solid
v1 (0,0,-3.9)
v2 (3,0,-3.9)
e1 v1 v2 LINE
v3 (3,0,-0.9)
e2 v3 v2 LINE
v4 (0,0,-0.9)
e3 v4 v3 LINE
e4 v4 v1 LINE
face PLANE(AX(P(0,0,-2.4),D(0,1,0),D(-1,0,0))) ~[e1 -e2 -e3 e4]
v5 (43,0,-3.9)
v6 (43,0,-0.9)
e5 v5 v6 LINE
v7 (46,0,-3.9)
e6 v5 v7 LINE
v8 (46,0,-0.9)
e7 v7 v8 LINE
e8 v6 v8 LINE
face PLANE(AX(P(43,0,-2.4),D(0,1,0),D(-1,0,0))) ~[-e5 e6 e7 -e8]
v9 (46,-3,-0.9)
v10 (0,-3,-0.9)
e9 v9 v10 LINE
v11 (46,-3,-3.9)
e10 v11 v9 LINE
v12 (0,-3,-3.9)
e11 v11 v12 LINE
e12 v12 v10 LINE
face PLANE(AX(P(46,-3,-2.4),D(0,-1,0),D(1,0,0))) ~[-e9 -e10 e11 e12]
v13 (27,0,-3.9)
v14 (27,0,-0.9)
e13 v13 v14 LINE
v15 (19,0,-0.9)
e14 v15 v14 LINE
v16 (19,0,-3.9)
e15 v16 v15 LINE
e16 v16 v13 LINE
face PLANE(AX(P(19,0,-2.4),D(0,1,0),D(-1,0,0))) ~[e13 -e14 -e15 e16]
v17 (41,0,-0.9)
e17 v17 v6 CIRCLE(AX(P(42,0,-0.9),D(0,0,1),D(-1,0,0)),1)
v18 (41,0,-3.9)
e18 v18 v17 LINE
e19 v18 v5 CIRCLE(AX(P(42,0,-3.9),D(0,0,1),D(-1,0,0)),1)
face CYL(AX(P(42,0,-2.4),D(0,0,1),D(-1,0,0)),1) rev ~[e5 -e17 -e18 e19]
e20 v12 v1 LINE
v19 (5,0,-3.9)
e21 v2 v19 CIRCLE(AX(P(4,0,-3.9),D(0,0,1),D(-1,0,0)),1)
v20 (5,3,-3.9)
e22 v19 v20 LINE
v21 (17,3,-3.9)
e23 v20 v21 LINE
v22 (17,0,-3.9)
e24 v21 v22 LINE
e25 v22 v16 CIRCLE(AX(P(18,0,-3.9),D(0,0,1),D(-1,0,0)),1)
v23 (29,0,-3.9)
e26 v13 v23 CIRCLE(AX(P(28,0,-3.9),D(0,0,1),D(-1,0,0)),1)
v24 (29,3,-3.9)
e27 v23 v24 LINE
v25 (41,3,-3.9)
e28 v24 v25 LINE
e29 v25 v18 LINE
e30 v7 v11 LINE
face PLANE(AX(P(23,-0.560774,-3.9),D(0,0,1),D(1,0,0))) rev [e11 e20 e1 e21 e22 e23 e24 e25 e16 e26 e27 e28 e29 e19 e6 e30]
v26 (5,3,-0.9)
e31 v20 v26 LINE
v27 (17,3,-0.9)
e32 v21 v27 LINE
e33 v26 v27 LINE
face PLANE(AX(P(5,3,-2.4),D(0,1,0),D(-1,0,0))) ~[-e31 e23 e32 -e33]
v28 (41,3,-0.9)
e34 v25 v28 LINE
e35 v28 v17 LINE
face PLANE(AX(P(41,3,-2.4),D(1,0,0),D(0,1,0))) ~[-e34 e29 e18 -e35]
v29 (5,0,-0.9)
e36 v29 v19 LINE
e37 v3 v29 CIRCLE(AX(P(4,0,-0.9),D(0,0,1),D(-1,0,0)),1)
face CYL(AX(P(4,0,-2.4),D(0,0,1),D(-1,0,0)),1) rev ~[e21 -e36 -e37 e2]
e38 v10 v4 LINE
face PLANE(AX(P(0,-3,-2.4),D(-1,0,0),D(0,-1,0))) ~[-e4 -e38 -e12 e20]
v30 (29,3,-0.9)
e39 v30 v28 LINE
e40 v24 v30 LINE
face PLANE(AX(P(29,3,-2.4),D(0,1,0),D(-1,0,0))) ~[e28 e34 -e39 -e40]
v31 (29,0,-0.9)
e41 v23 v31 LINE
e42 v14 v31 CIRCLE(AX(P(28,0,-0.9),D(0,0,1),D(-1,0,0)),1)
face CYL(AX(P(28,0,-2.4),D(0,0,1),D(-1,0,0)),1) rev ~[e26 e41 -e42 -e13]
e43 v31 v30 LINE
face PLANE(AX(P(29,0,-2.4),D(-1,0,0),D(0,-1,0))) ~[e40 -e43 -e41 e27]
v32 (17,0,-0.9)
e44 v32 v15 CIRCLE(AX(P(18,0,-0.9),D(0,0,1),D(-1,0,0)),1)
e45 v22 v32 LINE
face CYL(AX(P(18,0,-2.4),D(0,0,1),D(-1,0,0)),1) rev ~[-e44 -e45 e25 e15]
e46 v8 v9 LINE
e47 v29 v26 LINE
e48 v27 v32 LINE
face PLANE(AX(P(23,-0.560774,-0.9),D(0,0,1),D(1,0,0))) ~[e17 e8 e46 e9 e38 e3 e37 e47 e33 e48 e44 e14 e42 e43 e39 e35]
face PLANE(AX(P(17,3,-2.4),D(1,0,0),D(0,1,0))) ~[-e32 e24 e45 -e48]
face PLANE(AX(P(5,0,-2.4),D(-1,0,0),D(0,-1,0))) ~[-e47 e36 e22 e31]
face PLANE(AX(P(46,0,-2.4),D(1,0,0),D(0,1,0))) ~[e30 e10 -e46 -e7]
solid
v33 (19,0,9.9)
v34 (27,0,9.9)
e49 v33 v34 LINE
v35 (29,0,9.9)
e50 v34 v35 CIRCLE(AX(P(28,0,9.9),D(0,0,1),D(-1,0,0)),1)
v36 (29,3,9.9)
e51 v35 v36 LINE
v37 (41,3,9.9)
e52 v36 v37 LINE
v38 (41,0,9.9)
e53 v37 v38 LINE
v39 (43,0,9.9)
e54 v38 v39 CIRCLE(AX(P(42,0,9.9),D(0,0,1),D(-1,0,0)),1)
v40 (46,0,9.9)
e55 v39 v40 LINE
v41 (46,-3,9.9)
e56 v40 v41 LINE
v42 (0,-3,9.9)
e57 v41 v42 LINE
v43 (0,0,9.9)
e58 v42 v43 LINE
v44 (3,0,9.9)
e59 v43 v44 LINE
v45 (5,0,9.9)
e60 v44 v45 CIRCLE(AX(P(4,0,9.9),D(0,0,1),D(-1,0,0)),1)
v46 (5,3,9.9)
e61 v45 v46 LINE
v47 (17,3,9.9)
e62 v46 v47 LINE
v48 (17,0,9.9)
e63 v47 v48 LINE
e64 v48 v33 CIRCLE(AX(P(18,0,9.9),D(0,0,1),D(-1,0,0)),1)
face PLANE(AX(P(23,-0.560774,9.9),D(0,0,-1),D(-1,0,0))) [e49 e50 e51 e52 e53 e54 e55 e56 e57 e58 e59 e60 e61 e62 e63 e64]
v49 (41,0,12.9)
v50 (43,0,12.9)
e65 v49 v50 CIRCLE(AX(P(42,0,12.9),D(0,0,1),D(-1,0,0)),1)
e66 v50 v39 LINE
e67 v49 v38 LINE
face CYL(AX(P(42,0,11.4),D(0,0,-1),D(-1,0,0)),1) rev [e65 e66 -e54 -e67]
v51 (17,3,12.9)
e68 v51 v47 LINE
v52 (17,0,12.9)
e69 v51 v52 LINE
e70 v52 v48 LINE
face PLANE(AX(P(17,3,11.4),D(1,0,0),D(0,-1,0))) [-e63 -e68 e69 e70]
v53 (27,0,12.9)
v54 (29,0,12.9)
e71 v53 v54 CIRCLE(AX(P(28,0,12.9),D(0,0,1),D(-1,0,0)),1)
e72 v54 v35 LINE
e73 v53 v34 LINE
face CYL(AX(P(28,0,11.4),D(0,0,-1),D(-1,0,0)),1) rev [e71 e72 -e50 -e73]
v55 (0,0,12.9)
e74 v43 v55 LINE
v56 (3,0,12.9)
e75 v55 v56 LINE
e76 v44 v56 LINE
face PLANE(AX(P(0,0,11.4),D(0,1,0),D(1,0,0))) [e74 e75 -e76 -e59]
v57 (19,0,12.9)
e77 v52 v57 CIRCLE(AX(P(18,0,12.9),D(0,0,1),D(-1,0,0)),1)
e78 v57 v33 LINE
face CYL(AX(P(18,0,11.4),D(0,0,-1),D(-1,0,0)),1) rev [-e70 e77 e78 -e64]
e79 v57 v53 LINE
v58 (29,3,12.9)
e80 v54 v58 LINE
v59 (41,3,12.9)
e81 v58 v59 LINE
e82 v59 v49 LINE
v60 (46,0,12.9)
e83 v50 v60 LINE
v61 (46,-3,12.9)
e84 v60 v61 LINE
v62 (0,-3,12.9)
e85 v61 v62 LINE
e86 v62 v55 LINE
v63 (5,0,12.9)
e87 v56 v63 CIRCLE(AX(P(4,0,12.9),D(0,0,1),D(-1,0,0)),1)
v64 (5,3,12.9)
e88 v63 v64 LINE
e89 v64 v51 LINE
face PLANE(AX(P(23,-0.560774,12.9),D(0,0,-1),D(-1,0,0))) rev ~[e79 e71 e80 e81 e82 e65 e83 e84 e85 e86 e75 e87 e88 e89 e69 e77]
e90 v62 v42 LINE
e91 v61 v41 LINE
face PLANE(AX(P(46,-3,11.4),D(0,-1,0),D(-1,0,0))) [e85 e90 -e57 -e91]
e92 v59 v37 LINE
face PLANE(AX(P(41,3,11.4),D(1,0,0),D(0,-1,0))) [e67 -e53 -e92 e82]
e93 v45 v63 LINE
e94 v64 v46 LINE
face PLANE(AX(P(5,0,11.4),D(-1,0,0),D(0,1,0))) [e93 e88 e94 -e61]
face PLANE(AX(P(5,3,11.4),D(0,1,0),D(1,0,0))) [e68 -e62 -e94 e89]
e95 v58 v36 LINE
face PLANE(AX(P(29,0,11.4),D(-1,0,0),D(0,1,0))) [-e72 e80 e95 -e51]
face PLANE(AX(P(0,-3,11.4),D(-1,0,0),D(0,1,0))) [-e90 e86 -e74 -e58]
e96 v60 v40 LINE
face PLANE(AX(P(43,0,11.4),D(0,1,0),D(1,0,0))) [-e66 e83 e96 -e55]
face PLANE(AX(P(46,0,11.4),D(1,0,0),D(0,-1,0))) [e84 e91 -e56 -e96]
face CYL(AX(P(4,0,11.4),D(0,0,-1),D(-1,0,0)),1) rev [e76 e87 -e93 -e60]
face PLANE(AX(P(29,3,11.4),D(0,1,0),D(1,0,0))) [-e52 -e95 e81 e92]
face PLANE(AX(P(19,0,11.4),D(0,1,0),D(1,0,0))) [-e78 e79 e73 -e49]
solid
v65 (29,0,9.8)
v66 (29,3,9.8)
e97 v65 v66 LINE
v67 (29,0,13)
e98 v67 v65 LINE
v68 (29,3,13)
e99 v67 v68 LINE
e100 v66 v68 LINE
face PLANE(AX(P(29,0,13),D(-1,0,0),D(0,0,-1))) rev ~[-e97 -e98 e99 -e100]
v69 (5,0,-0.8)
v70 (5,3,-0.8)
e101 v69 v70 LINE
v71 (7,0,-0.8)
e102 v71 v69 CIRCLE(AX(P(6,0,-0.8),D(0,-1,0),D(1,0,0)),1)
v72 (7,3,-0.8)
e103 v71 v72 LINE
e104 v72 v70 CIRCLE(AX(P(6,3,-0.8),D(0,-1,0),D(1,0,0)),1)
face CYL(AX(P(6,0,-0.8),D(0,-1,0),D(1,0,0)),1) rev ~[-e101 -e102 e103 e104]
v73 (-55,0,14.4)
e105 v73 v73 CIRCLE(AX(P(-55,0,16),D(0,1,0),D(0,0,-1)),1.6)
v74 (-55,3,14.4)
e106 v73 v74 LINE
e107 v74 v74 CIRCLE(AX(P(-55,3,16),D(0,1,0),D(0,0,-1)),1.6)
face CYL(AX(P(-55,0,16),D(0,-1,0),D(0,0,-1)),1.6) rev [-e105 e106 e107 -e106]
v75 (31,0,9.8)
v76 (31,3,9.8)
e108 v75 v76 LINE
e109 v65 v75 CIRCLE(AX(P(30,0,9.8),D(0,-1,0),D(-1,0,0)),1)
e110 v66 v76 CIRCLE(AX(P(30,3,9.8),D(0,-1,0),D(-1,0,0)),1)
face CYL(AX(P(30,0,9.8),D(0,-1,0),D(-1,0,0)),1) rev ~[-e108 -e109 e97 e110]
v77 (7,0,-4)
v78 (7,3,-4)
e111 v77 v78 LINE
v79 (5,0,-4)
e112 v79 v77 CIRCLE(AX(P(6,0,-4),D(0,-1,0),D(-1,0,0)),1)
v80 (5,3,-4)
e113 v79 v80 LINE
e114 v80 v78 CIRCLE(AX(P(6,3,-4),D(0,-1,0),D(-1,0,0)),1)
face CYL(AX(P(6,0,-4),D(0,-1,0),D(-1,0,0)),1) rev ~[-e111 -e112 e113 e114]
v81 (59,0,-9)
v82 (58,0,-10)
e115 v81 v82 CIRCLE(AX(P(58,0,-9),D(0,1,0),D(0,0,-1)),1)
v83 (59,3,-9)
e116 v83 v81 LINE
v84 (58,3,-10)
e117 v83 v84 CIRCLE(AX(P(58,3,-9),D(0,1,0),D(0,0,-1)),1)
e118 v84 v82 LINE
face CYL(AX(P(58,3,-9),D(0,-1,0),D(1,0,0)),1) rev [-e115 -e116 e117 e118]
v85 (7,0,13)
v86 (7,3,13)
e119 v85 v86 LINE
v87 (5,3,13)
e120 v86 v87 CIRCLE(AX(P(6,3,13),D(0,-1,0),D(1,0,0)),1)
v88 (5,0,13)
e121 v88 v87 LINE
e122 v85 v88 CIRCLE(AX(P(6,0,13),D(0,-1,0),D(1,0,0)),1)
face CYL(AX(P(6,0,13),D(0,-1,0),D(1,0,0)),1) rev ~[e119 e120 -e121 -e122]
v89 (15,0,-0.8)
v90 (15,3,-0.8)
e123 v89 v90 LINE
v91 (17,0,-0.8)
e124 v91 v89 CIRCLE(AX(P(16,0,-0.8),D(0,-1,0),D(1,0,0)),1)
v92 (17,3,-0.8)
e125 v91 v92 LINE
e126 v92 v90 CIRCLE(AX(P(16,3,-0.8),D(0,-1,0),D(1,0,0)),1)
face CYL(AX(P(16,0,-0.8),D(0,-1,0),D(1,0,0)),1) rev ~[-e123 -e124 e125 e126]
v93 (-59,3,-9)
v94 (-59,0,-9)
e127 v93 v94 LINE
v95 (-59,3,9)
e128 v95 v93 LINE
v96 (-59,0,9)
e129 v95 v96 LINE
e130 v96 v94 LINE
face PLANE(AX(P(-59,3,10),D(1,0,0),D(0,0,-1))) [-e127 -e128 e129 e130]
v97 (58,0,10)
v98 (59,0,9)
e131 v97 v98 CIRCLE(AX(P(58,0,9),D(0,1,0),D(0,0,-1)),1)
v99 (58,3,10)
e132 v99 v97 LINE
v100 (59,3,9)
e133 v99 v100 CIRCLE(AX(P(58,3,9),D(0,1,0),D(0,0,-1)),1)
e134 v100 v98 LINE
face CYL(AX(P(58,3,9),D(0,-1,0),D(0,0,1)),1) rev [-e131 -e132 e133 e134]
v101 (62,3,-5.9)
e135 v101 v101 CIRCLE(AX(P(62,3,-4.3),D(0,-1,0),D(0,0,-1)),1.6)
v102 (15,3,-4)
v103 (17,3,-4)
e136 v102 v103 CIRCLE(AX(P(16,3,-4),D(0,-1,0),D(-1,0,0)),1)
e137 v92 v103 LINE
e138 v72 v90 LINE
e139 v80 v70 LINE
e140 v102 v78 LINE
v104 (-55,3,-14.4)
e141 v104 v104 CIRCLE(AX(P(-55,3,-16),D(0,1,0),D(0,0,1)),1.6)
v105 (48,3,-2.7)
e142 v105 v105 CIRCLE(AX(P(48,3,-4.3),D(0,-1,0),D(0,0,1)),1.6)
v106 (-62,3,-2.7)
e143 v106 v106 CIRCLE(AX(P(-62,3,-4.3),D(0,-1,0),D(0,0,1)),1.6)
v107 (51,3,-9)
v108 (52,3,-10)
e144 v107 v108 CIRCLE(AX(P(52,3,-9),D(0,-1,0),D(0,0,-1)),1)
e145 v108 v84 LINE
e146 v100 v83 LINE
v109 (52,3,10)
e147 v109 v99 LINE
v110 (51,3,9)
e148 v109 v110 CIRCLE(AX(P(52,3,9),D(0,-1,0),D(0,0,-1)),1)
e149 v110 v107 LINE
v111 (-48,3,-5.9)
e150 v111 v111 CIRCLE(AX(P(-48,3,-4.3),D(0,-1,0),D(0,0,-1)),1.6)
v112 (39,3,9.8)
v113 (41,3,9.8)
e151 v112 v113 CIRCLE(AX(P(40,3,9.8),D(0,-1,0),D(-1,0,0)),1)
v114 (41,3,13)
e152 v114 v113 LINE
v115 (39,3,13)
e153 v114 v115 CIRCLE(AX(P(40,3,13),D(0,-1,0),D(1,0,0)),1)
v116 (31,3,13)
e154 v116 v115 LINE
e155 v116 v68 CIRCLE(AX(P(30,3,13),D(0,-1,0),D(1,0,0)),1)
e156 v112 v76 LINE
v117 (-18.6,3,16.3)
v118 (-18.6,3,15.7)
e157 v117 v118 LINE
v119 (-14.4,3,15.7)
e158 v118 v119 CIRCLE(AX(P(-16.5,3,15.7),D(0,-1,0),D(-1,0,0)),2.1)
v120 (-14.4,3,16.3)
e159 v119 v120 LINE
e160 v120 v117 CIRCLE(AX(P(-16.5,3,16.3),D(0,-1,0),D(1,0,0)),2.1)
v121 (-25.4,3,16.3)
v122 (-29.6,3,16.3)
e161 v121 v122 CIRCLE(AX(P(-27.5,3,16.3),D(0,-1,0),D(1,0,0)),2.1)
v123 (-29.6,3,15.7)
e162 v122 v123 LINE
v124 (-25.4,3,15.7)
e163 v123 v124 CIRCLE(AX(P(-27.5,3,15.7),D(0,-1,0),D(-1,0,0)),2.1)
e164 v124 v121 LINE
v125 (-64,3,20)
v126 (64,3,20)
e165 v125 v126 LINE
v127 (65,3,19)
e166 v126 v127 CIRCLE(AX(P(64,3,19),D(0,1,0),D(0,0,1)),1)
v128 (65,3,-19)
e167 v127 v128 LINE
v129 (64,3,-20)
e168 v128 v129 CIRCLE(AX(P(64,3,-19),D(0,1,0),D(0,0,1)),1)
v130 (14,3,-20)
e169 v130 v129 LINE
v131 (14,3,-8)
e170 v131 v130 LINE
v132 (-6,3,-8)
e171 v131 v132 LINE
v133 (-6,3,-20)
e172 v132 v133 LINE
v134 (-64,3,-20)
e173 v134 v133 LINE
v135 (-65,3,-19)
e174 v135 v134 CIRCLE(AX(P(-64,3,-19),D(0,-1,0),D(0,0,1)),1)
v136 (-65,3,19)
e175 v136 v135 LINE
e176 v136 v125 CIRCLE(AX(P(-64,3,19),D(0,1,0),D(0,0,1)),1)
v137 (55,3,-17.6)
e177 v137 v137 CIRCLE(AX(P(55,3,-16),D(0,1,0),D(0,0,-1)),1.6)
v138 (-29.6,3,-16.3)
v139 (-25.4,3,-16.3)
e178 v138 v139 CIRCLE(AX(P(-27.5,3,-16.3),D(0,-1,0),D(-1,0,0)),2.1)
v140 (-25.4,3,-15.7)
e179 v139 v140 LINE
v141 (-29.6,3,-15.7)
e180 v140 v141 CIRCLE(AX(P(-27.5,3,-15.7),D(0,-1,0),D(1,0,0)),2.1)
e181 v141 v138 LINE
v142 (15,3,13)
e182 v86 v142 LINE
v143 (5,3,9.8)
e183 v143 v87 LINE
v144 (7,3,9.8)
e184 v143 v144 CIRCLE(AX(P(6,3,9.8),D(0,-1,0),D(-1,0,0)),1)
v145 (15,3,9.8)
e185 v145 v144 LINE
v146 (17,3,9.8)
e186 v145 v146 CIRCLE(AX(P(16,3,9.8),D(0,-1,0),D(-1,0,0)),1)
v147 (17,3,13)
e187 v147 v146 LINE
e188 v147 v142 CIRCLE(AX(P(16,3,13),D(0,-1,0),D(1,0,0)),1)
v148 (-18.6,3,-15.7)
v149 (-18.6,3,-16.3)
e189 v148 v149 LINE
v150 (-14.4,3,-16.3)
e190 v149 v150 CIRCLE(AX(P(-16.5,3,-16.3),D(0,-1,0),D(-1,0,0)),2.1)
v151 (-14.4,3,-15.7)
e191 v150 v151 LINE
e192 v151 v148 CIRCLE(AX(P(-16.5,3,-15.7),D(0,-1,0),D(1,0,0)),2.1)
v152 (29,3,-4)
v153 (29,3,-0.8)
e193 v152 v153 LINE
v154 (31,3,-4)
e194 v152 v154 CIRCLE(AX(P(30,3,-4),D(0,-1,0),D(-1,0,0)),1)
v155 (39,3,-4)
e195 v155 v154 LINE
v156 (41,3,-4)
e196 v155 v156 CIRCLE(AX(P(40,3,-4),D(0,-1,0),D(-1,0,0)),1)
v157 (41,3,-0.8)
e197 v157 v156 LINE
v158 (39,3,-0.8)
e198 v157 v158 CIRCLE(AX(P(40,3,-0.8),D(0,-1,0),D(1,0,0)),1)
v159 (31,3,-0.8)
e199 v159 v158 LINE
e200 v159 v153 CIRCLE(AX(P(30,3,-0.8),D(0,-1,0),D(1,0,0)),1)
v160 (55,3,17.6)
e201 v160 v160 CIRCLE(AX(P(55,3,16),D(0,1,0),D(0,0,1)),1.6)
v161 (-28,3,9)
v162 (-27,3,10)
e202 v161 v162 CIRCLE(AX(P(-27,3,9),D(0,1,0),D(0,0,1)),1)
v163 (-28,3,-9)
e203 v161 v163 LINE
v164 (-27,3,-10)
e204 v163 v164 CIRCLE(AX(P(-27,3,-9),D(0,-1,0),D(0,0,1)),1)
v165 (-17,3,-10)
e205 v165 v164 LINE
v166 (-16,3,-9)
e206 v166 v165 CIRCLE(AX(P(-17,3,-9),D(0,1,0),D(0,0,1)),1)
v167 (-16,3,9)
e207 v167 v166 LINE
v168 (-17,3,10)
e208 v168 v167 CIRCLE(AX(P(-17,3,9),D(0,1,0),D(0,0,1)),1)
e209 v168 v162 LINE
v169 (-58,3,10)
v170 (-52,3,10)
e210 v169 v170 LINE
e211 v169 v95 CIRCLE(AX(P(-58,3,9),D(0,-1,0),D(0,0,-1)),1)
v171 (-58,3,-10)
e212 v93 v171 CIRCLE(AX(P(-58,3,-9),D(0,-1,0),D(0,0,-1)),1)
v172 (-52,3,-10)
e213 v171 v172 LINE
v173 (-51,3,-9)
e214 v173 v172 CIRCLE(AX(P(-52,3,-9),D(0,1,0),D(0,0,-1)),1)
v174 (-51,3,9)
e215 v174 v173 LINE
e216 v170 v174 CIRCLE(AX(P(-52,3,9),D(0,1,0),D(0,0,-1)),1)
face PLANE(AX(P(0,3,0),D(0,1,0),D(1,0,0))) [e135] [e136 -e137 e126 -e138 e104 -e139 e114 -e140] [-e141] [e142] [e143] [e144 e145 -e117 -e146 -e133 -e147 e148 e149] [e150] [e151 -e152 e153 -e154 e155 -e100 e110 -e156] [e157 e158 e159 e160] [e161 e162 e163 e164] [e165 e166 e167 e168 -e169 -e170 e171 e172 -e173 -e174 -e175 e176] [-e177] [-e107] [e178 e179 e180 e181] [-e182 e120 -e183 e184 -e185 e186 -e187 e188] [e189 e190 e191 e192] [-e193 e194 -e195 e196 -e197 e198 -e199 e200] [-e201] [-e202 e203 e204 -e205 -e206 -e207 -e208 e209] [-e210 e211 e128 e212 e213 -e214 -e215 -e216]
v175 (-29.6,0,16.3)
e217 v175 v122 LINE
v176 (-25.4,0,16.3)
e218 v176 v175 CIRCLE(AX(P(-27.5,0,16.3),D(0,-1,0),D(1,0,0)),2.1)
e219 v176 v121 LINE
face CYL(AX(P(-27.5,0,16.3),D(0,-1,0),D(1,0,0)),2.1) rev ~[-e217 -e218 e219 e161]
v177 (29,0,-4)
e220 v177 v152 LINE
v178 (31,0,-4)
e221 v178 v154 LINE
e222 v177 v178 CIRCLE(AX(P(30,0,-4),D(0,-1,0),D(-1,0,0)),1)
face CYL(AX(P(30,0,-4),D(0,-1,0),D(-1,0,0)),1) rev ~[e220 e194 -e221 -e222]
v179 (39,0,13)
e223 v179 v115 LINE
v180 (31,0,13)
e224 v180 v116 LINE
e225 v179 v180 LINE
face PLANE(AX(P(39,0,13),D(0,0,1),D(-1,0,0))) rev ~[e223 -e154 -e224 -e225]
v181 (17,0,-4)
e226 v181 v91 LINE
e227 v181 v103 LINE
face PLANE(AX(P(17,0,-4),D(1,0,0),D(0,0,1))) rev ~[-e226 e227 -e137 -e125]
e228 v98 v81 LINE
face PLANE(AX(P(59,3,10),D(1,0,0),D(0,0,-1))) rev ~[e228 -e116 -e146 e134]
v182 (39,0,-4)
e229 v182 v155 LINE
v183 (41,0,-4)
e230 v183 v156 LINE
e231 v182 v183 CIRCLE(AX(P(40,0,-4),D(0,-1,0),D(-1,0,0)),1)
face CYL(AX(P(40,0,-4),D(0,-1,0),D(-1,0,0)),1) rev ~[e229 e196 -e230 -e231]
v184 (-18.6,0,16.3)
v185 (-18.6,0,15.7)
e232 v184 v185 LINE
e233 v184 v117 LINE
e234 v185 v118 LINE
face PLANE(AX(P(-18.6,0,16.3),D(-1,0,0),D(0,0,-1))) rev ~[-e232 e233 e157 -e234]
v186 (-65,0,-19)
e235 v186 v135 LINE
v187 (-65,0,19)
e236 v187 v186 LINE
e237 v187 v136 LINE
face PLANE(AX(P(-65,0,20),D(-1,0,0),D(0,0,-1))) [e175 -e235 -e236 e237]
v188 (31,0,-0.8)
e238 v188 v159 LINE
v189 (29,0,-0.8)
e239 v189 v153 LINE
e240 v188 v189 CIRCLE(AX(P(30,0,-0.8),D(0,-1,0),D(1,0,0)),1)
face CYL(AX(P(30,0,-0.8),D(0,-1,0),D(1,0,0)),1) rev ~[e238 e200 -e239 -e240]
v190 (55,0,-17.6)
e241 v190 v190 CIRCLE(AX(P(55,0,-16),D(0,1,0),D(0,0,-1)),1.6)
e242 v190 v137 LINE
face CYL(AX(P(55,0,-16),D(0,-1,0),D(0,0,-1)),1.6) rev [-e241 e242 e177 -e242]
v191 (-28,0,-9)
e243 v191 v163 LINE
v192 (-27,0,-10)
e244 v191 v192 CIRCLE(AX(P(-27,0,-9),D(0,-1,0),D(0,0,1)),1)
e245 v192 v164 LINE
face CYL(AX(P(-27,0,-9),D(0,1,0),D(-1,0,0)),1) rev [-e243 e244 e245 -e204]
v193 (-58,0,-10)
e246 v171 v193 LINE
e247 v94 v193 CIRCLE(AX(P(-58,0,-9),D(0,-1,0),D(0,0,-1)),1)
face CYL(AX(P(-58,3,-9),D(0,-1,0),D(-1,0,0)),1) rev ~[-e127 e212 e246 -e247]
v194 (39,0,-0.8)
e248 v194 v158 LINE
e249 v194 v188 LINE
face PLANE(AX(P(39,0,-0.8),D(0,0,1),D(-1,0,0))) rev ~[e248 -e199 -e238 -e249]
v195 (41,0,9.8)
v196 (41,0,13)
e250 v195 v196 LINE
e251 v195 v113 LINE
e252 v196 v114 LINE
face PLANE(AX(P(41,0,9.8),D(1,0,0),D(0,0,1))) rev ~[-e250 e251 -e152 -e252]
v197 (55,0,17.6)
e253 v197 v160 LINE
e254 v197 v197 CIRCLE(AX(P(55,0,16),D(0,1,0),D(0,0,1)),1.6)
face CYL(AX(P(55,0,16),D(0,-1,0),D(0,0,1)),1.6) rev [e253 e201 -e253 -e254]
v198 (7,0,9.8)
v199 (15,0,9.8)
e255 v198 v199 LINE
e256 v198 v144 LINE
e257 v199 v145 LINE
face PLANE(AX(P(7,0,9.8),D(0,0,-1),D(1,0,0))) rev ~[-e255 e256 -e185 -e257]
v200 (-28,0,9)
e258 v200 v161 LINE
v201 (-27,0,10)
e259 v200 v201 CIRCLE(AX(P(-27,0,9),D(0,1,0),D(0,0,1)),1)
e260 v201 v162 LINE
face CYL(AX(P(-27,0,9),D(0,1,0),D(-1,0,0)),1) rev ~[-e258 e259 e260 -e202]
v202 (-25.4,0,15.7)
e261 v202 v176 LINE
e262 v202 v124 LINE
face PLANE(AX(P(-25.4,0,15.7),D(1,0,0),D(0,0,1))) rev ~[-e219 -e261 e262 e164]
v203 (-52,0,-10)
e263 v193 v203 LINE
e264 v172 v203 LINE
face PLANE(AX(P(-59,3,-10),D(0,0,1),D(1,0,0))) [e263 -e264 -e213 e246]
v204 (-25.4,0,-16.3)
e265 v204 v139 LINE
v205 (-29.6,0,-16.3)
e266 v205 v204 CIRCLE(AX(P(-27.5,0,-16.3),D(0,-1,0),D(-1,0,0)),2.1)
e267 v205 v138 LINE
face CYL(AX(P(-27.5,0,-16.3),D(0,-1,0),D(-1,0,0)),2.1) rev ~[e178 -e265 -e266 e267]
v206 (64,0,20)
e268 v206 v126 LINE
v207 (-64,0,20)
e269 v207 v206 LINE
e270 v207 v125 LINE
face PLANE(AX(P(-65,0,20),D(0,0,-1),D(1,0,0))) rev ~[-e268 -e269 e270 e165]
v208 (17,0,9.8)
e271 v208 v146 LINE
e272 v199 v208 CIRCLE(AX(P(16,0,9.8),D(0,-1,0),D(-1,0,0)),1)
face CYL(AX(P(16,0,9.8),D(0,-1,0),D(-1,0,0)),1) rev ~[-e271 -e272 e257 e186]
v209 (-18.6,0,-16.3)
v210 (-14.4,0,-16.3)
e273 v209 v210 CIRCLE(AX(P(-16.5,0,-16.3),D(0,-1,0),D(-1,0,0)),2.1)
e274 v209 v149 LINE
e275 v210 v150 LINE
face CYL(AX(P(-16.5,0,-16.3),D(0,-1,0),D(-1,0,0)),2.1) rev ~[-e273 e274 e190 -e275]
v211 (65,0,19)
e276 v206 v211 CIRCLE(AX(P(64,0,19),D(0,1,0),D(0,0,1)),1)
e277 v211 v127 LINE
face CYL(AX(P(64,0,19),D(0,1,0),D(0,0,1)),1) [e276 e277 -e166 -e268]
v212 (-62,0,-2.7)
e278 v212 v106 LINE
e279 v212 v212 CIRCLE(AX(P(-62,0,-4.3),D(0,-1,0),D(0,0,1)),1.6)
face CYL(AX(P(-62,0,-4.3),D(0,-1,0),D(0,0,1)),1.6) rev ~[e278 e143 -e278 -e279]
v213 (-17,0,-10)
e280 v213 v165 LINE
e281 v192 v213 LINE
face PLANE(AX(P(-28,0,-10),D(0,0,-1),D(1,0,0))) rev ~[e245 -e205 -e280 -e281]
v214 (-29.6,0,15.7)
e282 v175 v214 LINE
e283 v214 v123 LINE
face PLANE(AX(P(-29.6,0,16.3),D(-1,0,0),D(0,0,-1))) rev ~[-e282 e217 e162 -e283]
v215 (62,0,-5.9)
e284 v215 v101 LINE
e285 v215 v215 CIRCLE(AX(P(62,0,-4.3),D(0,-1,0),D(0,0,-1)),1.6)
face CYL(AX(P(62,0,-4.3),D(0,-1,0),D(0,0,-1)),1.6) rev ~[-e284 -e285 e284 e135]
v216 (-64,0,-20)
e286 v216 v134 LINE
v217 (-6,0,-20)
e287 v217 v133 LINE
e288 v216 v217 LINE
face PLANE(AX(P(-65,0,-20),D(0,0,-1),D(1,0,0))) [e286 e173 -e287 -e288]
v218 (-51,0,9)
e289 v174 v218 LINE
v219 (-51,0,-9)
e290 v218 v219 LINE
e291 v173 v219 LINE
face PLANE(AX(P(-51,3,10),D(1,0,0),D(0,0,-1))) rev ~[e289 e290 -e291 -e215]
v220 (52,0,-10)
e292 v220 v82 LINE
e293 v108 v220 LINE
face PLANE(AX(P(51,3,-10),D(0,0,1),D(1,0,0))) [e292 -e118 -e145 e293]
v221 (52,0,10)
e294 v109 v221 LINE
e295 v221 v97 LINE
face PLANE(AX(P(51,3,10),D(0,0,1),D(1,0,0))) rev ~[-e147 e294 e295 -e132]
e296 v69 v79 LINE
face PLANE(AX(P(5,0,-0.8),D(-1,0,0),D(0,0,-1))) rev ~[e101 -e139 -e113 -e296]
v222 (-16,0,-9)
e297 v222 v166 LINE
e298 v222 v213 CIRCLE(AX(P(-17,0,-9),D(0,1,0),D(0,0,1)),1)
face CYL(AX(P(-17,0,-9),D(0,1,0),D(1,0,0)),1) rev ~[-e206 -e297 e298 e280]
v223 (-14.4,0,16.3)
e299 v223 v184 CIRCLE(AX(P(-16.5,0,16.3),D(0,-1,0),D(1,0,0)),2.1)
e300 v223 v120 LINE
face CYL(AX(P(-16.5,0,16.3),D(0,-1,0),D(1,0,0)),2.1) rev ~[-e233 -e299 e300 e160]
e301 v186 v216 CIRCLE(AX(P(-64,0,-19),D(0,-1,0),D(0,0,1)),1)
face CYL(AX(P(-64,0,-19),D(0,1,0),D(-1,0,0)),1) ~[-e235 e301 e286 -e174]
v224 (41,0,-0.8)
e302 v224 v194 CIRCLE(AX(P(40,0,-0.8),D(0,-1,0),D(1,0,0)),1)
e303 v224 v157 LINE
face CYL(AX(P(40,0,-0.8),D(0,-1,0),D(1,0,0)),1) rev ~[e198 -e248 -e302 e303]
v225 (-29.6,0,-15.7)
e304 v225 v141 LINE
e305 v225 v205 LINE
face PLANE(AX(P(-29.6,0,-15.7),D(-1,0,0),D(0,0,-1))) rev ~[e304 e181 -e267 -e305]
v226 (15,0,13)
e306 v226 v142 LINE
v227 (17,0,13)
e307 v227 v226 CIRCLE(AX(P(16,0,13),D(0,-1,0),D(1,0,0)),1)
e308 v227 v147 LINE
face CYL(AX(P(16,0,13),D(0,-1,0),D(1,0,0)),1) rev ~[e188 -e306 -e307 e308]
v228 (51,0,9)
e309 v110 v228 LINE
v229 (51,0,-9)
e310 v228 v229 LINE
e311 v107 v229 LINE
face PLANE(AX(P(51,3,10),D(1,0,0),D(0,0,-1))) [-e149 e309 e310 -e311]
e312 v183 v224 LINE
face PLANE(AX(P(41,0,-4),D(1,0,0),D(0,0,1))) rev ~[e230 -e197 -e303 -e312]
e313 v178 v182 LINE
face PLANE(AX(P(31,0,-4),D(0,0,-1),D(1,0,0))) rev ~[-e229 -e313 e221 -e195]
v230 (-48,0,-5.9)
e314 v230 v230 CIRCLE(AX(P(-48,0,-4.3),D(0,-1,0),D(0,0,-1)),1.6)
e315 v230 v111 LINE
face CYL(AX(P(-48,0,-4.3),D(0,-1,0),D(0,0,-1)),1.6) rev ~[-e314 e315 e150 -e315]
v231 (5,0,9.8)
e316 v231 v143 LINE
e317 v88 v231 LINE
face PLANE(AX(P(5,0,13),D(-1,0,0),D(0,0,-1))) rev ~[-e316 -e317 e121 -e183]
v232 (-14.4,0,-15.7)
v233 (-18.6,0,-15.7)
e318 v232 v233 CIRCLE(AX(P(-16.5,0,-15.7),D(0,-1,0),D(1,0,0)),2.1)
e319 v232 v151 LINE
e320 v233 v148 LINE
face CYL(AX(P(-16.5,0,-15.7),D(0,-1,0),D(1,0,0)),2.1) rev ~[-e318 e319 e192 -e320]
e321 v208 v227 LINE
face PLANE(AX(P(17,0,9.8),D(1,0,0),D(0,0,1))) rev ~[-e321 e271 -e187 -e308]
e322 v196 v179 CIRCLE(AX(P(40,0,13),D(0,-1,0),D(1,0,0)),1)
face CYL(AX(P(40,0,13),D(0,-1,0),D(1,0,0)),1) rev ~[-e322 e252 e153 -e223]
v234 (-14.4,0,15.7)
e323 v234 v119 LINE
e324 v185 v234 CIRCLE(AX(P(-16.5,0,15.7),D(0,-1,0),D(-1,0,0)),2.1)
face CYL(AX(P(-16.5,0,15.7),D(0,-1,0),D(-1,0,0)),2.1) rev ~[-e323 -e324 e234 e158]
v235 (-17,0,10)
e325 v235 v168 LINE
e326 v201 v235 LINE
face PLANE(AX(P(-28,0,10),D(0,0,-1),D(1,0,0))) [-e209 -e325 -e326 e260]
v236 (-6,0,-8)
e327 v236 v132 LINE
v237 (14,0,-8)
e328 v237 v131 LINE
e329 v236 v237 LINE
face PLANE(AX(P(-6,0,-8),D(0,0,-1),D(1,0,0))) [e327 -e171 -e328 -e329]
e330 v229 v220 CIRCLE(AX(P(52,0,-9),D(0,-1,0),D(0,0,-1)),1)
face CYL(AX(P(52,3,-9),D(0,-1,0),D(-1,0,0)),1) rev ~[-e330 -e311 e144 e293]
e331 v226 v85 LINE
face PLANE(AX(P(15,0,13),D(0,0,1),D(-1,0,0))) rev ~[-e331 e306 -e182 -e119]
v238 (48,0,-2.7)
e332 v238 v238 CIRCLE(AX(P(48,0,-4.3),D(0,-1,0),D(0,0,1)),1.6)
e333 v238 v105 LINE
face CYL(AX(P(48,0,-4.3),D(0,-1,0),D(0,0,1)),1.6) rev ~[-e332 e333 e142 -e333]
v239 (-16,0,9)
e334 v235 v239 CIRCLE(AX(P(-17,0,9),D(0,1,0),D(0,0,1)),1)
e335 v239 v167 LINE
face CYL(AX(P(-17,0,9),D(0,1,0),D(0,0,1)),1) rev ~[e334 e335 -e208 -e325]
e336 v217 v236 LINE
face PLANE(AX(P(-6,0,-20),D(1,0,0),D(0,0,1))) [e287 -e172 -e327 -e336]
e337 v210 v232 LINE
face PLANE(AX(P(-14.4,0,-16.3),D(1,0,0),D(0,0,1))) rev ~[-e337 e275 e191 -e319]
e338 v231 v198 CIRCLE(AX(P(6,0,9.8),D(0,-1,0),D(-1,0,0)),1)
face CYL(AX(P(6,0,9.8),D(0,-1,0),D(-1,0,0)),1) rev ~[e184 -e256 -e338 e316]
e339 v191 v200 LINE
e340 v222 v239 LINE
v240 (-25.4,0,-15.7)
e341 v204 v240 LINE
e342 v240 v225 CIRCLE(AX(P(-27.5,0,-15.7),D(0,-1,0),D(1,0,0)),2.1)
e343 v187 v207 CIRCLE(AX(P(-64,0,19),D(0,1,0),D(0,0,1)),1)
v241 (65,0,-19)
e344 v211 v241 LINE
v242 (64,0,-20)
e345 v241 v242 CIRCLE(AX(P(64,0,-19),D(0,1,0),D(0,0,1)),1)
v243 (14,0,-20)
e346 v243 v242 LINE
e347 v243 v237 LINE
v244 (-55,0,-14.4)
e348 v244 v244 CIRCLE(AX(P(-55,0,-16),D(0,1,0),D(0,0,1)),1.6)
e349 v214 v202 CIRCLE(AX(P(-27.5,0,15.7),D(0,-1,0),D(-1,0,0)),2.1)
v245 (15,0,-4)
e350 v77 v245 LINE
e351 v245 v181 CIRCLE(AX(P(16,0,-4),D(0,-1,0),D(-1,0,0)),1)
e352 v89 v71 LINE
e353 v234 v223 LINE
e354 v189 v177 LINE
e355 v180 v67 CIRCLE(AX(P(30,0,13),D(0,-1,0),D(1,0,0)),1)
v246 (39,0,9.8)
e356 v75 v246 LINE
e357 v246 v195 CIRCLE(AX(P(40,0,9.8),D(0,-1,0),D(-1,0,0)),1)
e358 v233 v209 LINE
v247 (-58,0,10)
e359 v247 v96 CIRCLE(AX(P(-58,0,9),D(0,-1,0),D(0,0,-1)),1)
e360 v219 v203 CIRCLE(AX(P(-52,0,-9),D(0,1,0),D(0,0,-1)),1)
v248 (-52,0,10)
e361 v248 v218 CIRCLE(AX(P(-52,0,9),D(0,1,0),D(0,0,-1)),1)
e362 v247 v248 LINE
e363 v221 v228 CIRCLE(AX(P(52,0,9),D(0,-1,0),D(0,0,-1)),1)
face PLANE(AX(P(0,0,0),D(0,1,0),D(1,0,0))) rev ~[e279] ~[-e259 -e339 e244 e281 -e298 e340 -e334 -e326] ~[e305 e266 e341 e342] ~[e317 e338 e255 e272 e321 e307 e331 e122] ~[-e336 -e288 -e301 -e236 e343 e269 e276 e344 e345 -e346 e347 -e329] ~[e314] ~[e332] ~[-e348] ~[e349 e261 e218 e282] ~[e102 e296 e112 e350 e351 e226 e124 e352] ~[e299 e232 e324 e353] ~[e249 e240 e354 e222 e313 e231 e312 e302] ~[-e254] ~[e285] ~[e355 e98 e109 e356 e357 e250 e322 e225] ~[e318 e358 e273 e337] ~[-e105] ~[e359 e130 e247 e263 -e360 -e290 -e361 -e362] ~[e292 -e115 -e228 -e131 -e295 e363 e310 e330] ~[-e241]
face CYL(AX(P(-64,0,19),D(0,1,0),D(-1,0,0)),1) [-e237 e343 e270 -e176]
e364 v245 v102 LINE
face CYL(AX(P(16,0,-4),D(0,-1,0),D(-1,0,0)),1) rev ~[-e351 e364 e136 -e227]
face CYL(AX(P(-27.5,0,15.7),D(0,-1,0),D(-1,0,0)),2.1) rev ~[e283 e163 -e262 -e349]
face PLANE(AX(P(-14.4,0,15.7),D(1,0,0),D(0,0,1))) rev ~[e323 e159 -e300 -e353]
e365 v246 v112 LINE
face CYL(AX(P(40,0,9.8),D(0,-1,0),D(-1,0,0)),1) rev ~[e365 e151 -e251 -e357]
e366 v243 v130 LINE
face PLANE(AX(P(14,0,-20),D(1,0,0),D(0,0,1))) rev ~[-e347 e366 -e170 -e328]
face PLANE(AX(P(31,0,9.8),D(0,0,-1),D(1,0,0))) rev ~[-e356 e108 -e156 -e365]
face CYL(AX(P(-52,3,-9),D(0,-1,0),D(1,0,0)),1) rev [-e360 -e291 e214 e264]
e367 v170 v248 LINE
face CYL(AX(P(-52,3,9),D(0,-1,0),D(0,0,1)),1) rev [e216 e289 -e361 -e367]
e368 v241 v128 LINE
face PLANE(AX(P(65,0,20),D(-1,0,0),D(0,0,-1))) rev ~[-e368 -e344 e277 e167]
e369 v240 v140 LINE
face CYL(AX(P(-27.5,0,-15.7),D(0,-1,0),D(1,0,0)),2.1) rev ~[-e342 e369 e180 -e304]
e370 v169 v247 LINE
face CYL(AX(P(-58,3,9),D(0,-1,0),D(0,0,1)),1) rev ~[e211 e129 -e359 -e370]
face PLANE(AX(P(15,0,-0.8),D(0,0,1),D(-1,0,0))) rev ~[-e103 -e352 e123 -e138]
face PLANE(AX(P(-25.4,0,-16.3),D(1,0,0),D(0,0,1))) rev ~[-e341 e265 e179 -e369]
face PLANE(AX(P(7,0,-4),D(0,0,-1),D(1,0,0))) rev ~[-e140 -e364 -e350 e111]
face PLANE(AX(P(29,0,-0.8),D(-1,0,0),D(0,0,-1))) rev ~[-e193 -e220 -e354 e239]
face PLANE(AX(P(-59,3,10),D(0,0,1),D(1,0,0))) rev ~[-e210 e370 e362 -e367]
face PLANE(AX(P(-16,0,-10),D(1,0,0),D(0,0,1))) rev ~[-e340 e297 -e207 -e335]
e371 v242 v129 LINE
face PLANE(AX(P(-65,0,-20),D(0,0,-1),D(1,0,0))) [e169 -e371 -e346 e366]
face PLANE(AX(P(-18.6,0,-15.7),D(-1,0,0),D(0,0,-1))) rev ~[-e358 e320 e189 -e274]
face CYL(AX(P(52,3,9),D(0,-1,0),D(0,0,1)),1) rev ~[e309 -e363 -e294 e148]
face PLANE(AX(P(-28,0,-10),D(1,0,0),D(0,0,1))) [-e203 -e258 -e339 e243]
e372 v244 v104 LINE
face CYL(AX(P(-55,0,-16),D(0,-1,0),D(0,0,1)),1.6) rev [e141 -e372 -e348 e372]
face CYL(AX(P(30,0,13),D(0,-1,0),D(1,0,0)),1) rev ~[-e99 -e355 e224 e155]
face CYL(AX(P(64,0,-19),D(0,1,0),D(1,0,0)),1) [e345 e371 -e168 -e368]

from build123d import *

# Parameters (mm, degrees)
SKETCH_1_W          = 130
SKETCH_1_H          = 40
SKETCH_1_R          = 1.6
EXTRUDE_1_DEPTH     = 3
SKETCH_2_W          = 8
SKETCH_2_H          = 20
CUT_EXTRUDE_1_DEPTH = 69.0734897
SKETCH_7_W          = 20
SKETCH_7_H          = 12
SKETCH_7_R          = 1.6
CUT_EXTRUDE_4_DEPTH = 69.0734897
SKETCH_8_R          = 1
SKETCH_8_W          = 12
SKETCH_8_H          = 3.2
CUT_EXTRUDE_5_DEPTH = 69.0734897
EXTRUDE_2_DEPTH     = 1.5
SKETCH_11_W         = 12
SKETCH_11_H         = 20
CUT_EXTRUDE_6_DEPTH = 69.0734897
FILLET_1_R          = 1


with BuildPart() as part:
    # 草图1 → 凸台-拉伸1 (new body)
    with BuildSketch(Plane(origin=(0, 0, 0), x_dir=(1, 0, 0), z_dir=(0, 1, 0))):
        Rectangle(SKETCH_1_W, SKETCH_1_H)
        with Locations((-55, 16)):
            Circle(SKETCH_1_R, mode=Mode.SUBTRACT)
        with Locations((-55, -16)):
            Circle(SKETCH_1_R, mode=Mode.SUBTRACT)
        with Locations((55, 16)):
            Circle(SKETCH_1_R, mode=Mode.SUBTRACT)
        with Locations((55, -16)):
            Circle(SKETCH_1_R, mode=Mode.SUBTRACT)
        with BuildLine():
            Line((-29.6, 15.7), (-29.6, 16.3))
            ThreePointArc((-29.6, 16.3), (-27.5, 18.4), (-25.4, 16.3))
            Line((-25.4, 16.3), (-25.4, 15.7))
            ThreePointArc((-25.4, 15.7), (-27.5, 13.6), (-29.6, 15.7))
        make_face(mode=Mode.SUBTRACT)
        with BuildLine():
            Line((-18.6, 15.7), (-18.6, 16.3))
            ThreePointArc((-18.6, 16.3), (-16.5, 18.4), (-14.4, 16.3))
            Line((-14.4, 16.3), (-14.4, 15.7))
            ThreePointArc((-14.4, 15.7), (-16.5, 13.6), (-18.6, 15.7))
        make_face(mode=Mode.SUBTRACT)
        with BuildLine():
            Line((-25.4, -15.7), (-25.4, -16.3))
            ThreePointArc((-25.4, -16.3), (-27.5, -18.4), (-29.6, -16.3))
            Line((-29.6, -16.3), (-29.6, -15.7))
            ThreePointArc((-29.6, -15.7), (-27.5, -13.6), (-25.4, -15.7))
        make_face(mode=Mode.SUBTRACT)
        with BuildLine():
            Line((-14.4, -15.7), (-14.4, -16.3))
            ThreePointArc((-14.4, -16.3), (-16.5, -18.4), (-18.6, -16.3))
            Line((-18.6, -16.3), (-18.6, -15.7))
            ThreePointArc((-18.6, -15.7), (-16.5, -13.6), (-14.4, -15.7))
        make_face(mode=Mode.SUBTRACT)
    extrude(amount=EXTRUDE_1_DEPTH)

    # 草图2 → 切除-拉伸1 (cut, through all)
    with BuildSketch(Plane(origin=(0, 3, 0), x_dir=(1, 0, 0), z_dir=(0, 1, 0))):
        with Locations((-55, 0)):
            Rectangle(SKETCH_2_W, SKETCH_2_H)
        with Locations((55, 0)):
            Rectangle(SKETCH_2_W, SKETCH_2_H)
    extrude(amount=-CUT_EXTRUDE_1_DEPTH, mode=Mode.SUBTRACT)

    # 草图7 → 切除-拉伸4 (cut, through all)
    with BuildSketch(Plane.XZ):
        with Locations((4, -14)):
            Rectangle(SKETCH_7_W, SKETCH_7_H)
        with Locations((62, -4.3)):
            Circle(SKETCH_7_R)
        with Locations((48, -4.3)):
            Circle(SKETCH_7_R)
        with Locations((-62, -4.3)):
            Circle(SKETCH_7_R)
        with Locations((-48, -4.3)):
            Circle(SKETCH_7_R)
    extrude(amount=-CUT_EXTRUDE_4_DEPTH, mode=Mode.SUBTRACT)

    # 草图8 → 切除-拉伸5 (cut, through all)
    with BuildSketch(Plane.XZ):
        with Locations((6, -0.8)):
            Circle(SKETCH_8_R)
        with Locations((6, -4)):
            Circle(SKETCH_8_R)
        with Locations((16, -0.8)):
            Circle(SKETCH_8_R)
        with Locations((16, -4)):
            Circle(SKETCH_8_R)
        with Locations((30, -0.8)):
            Circle(SKETCH_8_R)
        with Locations((30, -4)):
            Circle(SKETCH_8_R)
        with Locations((40, -0.8)):
            Circle(SKETCH_8_R)
        with Locations((40, -4)):
            Circle(SKETCH_8_R)
        with Locations((40, 13)):
            Circle(SKETCH_8_R)
        with Locations((40, 9.8)):
            Circle(SKETCH_8_R)
        with Locations((30, 13)):
            Circle(SKETCH_8_R)
        with Locations((30, 9.8)):
            Circle(SKETCH_8_R)
        with Locations((16, 13)):
            Circle(SKETCH_8_R)
        with Locations((16, 9.8)):
            Circle(SKETCH_8_R)
        with Locations((6, 13)):
            Circle(SKETCH_8_R)
        with Locations((6, 9.8)):
            Circle(SKETCH_8_R)
        with Locations((11, -2.4)):
            Rectangle(SKETCH_8_W, SKETCH_8_H)
        with Locations((35, -2.4)):
            Rectangle(SKETCH_8_W, SKETCH_8_H)
        with Locations((35, 11.4)):
            Rectangle(SKETCH_8_W, SKETCH_8_H)
        with Locations((11, 11.4)):
            Rectangle(SKETCH_8_W, SKETCH_8_H)
    extrude(amount=-CUT_EXTRUDE_5_DEPTH, mode=Mode.SUBTRACT)

    # 草图11 → 切除-拉伸6 (cut, through all)
    with BuildSketch(Plane.XZ):
        with Locations((-22, 0)):
            Rectangle(SKETCH_11_W, SKETCH_11_H)
    extrude(amount=-CUT_EXTRUDE_6_DEPTH, mode=Mode.SUBTRACT)

    # 圆角1
    fillet_1_edges = [part.edges().sort_by_distance(p)[0] for p in [
        (65, 1.5, -20),
        (-65, 1.5, -20),
        (-65, 1.5, 20),
        (65, 1.5, 20),
        (51, 1.5, 10),
        (51, 1.5, -10),
        (59, 1.5, -10),
        (-59, 1.5, 10),
        (-59, 1.5, -10),
        (-51, 1.5, -10),
        (-51, 1.5, 10),
        (59, 1.5, 10),
        (-16, 1.5, -10),
        (-28, 1.5, -10),
        (-16, 1.5, 10),
        (-28, 1.5, 10),
    ]]
    fillet(fillet_1_edges, radius=FILLET_1_R)


with BuildPart() as body_2:
    # 草图9 → 凸台-拉伸2 (new, symmetric)
    with BuildSketch(Plane(origin=(0, 0, 11.4), x_dir=(-1, 0, 0), z_dir=(0, 0, -1))):
        with BuildLine():
            Line((-5, 0), (-5, 3))
            Line((-5, 3), (-17, 3))
            Line((-17, 3), (-17, 0))
            ThreePointArc((-17, 0), (-18, -1), (-19, 0))
            Line((-19, 0), (-27, 0))
            ThreePointArc((-27, 0), (-28, -1), (-29, 0))
            Line((-29, 0), (-29, 3))
            Line((-29, 3), (-41, 3))
            Line((-41, 3), (-41, 0))
            ThreePointArc((-41, 0), (-42, -1), (-43, 0))
            Line((-43, 0), (-46, 0))
            Line((-46, 0), (-46, -3))
            Line((-46, -3), (0, -3))
            Line((0, -3), (0, 0))
            Line((0, 0), (-3, 0))
            ThreePointArc((-3, 0), (-4, -1), (-5, 0))
        make_face()
    extrude(amount=EXTRUDE_2_DEPTH, both=True)


with BuildPart() as body_3:
    # 镜向1: mirrored copy
    add(body_2.part.mirror(Plane.XY.offset(4.5)))


solid = Compound([part.part, body_2.part, body_3.part])
